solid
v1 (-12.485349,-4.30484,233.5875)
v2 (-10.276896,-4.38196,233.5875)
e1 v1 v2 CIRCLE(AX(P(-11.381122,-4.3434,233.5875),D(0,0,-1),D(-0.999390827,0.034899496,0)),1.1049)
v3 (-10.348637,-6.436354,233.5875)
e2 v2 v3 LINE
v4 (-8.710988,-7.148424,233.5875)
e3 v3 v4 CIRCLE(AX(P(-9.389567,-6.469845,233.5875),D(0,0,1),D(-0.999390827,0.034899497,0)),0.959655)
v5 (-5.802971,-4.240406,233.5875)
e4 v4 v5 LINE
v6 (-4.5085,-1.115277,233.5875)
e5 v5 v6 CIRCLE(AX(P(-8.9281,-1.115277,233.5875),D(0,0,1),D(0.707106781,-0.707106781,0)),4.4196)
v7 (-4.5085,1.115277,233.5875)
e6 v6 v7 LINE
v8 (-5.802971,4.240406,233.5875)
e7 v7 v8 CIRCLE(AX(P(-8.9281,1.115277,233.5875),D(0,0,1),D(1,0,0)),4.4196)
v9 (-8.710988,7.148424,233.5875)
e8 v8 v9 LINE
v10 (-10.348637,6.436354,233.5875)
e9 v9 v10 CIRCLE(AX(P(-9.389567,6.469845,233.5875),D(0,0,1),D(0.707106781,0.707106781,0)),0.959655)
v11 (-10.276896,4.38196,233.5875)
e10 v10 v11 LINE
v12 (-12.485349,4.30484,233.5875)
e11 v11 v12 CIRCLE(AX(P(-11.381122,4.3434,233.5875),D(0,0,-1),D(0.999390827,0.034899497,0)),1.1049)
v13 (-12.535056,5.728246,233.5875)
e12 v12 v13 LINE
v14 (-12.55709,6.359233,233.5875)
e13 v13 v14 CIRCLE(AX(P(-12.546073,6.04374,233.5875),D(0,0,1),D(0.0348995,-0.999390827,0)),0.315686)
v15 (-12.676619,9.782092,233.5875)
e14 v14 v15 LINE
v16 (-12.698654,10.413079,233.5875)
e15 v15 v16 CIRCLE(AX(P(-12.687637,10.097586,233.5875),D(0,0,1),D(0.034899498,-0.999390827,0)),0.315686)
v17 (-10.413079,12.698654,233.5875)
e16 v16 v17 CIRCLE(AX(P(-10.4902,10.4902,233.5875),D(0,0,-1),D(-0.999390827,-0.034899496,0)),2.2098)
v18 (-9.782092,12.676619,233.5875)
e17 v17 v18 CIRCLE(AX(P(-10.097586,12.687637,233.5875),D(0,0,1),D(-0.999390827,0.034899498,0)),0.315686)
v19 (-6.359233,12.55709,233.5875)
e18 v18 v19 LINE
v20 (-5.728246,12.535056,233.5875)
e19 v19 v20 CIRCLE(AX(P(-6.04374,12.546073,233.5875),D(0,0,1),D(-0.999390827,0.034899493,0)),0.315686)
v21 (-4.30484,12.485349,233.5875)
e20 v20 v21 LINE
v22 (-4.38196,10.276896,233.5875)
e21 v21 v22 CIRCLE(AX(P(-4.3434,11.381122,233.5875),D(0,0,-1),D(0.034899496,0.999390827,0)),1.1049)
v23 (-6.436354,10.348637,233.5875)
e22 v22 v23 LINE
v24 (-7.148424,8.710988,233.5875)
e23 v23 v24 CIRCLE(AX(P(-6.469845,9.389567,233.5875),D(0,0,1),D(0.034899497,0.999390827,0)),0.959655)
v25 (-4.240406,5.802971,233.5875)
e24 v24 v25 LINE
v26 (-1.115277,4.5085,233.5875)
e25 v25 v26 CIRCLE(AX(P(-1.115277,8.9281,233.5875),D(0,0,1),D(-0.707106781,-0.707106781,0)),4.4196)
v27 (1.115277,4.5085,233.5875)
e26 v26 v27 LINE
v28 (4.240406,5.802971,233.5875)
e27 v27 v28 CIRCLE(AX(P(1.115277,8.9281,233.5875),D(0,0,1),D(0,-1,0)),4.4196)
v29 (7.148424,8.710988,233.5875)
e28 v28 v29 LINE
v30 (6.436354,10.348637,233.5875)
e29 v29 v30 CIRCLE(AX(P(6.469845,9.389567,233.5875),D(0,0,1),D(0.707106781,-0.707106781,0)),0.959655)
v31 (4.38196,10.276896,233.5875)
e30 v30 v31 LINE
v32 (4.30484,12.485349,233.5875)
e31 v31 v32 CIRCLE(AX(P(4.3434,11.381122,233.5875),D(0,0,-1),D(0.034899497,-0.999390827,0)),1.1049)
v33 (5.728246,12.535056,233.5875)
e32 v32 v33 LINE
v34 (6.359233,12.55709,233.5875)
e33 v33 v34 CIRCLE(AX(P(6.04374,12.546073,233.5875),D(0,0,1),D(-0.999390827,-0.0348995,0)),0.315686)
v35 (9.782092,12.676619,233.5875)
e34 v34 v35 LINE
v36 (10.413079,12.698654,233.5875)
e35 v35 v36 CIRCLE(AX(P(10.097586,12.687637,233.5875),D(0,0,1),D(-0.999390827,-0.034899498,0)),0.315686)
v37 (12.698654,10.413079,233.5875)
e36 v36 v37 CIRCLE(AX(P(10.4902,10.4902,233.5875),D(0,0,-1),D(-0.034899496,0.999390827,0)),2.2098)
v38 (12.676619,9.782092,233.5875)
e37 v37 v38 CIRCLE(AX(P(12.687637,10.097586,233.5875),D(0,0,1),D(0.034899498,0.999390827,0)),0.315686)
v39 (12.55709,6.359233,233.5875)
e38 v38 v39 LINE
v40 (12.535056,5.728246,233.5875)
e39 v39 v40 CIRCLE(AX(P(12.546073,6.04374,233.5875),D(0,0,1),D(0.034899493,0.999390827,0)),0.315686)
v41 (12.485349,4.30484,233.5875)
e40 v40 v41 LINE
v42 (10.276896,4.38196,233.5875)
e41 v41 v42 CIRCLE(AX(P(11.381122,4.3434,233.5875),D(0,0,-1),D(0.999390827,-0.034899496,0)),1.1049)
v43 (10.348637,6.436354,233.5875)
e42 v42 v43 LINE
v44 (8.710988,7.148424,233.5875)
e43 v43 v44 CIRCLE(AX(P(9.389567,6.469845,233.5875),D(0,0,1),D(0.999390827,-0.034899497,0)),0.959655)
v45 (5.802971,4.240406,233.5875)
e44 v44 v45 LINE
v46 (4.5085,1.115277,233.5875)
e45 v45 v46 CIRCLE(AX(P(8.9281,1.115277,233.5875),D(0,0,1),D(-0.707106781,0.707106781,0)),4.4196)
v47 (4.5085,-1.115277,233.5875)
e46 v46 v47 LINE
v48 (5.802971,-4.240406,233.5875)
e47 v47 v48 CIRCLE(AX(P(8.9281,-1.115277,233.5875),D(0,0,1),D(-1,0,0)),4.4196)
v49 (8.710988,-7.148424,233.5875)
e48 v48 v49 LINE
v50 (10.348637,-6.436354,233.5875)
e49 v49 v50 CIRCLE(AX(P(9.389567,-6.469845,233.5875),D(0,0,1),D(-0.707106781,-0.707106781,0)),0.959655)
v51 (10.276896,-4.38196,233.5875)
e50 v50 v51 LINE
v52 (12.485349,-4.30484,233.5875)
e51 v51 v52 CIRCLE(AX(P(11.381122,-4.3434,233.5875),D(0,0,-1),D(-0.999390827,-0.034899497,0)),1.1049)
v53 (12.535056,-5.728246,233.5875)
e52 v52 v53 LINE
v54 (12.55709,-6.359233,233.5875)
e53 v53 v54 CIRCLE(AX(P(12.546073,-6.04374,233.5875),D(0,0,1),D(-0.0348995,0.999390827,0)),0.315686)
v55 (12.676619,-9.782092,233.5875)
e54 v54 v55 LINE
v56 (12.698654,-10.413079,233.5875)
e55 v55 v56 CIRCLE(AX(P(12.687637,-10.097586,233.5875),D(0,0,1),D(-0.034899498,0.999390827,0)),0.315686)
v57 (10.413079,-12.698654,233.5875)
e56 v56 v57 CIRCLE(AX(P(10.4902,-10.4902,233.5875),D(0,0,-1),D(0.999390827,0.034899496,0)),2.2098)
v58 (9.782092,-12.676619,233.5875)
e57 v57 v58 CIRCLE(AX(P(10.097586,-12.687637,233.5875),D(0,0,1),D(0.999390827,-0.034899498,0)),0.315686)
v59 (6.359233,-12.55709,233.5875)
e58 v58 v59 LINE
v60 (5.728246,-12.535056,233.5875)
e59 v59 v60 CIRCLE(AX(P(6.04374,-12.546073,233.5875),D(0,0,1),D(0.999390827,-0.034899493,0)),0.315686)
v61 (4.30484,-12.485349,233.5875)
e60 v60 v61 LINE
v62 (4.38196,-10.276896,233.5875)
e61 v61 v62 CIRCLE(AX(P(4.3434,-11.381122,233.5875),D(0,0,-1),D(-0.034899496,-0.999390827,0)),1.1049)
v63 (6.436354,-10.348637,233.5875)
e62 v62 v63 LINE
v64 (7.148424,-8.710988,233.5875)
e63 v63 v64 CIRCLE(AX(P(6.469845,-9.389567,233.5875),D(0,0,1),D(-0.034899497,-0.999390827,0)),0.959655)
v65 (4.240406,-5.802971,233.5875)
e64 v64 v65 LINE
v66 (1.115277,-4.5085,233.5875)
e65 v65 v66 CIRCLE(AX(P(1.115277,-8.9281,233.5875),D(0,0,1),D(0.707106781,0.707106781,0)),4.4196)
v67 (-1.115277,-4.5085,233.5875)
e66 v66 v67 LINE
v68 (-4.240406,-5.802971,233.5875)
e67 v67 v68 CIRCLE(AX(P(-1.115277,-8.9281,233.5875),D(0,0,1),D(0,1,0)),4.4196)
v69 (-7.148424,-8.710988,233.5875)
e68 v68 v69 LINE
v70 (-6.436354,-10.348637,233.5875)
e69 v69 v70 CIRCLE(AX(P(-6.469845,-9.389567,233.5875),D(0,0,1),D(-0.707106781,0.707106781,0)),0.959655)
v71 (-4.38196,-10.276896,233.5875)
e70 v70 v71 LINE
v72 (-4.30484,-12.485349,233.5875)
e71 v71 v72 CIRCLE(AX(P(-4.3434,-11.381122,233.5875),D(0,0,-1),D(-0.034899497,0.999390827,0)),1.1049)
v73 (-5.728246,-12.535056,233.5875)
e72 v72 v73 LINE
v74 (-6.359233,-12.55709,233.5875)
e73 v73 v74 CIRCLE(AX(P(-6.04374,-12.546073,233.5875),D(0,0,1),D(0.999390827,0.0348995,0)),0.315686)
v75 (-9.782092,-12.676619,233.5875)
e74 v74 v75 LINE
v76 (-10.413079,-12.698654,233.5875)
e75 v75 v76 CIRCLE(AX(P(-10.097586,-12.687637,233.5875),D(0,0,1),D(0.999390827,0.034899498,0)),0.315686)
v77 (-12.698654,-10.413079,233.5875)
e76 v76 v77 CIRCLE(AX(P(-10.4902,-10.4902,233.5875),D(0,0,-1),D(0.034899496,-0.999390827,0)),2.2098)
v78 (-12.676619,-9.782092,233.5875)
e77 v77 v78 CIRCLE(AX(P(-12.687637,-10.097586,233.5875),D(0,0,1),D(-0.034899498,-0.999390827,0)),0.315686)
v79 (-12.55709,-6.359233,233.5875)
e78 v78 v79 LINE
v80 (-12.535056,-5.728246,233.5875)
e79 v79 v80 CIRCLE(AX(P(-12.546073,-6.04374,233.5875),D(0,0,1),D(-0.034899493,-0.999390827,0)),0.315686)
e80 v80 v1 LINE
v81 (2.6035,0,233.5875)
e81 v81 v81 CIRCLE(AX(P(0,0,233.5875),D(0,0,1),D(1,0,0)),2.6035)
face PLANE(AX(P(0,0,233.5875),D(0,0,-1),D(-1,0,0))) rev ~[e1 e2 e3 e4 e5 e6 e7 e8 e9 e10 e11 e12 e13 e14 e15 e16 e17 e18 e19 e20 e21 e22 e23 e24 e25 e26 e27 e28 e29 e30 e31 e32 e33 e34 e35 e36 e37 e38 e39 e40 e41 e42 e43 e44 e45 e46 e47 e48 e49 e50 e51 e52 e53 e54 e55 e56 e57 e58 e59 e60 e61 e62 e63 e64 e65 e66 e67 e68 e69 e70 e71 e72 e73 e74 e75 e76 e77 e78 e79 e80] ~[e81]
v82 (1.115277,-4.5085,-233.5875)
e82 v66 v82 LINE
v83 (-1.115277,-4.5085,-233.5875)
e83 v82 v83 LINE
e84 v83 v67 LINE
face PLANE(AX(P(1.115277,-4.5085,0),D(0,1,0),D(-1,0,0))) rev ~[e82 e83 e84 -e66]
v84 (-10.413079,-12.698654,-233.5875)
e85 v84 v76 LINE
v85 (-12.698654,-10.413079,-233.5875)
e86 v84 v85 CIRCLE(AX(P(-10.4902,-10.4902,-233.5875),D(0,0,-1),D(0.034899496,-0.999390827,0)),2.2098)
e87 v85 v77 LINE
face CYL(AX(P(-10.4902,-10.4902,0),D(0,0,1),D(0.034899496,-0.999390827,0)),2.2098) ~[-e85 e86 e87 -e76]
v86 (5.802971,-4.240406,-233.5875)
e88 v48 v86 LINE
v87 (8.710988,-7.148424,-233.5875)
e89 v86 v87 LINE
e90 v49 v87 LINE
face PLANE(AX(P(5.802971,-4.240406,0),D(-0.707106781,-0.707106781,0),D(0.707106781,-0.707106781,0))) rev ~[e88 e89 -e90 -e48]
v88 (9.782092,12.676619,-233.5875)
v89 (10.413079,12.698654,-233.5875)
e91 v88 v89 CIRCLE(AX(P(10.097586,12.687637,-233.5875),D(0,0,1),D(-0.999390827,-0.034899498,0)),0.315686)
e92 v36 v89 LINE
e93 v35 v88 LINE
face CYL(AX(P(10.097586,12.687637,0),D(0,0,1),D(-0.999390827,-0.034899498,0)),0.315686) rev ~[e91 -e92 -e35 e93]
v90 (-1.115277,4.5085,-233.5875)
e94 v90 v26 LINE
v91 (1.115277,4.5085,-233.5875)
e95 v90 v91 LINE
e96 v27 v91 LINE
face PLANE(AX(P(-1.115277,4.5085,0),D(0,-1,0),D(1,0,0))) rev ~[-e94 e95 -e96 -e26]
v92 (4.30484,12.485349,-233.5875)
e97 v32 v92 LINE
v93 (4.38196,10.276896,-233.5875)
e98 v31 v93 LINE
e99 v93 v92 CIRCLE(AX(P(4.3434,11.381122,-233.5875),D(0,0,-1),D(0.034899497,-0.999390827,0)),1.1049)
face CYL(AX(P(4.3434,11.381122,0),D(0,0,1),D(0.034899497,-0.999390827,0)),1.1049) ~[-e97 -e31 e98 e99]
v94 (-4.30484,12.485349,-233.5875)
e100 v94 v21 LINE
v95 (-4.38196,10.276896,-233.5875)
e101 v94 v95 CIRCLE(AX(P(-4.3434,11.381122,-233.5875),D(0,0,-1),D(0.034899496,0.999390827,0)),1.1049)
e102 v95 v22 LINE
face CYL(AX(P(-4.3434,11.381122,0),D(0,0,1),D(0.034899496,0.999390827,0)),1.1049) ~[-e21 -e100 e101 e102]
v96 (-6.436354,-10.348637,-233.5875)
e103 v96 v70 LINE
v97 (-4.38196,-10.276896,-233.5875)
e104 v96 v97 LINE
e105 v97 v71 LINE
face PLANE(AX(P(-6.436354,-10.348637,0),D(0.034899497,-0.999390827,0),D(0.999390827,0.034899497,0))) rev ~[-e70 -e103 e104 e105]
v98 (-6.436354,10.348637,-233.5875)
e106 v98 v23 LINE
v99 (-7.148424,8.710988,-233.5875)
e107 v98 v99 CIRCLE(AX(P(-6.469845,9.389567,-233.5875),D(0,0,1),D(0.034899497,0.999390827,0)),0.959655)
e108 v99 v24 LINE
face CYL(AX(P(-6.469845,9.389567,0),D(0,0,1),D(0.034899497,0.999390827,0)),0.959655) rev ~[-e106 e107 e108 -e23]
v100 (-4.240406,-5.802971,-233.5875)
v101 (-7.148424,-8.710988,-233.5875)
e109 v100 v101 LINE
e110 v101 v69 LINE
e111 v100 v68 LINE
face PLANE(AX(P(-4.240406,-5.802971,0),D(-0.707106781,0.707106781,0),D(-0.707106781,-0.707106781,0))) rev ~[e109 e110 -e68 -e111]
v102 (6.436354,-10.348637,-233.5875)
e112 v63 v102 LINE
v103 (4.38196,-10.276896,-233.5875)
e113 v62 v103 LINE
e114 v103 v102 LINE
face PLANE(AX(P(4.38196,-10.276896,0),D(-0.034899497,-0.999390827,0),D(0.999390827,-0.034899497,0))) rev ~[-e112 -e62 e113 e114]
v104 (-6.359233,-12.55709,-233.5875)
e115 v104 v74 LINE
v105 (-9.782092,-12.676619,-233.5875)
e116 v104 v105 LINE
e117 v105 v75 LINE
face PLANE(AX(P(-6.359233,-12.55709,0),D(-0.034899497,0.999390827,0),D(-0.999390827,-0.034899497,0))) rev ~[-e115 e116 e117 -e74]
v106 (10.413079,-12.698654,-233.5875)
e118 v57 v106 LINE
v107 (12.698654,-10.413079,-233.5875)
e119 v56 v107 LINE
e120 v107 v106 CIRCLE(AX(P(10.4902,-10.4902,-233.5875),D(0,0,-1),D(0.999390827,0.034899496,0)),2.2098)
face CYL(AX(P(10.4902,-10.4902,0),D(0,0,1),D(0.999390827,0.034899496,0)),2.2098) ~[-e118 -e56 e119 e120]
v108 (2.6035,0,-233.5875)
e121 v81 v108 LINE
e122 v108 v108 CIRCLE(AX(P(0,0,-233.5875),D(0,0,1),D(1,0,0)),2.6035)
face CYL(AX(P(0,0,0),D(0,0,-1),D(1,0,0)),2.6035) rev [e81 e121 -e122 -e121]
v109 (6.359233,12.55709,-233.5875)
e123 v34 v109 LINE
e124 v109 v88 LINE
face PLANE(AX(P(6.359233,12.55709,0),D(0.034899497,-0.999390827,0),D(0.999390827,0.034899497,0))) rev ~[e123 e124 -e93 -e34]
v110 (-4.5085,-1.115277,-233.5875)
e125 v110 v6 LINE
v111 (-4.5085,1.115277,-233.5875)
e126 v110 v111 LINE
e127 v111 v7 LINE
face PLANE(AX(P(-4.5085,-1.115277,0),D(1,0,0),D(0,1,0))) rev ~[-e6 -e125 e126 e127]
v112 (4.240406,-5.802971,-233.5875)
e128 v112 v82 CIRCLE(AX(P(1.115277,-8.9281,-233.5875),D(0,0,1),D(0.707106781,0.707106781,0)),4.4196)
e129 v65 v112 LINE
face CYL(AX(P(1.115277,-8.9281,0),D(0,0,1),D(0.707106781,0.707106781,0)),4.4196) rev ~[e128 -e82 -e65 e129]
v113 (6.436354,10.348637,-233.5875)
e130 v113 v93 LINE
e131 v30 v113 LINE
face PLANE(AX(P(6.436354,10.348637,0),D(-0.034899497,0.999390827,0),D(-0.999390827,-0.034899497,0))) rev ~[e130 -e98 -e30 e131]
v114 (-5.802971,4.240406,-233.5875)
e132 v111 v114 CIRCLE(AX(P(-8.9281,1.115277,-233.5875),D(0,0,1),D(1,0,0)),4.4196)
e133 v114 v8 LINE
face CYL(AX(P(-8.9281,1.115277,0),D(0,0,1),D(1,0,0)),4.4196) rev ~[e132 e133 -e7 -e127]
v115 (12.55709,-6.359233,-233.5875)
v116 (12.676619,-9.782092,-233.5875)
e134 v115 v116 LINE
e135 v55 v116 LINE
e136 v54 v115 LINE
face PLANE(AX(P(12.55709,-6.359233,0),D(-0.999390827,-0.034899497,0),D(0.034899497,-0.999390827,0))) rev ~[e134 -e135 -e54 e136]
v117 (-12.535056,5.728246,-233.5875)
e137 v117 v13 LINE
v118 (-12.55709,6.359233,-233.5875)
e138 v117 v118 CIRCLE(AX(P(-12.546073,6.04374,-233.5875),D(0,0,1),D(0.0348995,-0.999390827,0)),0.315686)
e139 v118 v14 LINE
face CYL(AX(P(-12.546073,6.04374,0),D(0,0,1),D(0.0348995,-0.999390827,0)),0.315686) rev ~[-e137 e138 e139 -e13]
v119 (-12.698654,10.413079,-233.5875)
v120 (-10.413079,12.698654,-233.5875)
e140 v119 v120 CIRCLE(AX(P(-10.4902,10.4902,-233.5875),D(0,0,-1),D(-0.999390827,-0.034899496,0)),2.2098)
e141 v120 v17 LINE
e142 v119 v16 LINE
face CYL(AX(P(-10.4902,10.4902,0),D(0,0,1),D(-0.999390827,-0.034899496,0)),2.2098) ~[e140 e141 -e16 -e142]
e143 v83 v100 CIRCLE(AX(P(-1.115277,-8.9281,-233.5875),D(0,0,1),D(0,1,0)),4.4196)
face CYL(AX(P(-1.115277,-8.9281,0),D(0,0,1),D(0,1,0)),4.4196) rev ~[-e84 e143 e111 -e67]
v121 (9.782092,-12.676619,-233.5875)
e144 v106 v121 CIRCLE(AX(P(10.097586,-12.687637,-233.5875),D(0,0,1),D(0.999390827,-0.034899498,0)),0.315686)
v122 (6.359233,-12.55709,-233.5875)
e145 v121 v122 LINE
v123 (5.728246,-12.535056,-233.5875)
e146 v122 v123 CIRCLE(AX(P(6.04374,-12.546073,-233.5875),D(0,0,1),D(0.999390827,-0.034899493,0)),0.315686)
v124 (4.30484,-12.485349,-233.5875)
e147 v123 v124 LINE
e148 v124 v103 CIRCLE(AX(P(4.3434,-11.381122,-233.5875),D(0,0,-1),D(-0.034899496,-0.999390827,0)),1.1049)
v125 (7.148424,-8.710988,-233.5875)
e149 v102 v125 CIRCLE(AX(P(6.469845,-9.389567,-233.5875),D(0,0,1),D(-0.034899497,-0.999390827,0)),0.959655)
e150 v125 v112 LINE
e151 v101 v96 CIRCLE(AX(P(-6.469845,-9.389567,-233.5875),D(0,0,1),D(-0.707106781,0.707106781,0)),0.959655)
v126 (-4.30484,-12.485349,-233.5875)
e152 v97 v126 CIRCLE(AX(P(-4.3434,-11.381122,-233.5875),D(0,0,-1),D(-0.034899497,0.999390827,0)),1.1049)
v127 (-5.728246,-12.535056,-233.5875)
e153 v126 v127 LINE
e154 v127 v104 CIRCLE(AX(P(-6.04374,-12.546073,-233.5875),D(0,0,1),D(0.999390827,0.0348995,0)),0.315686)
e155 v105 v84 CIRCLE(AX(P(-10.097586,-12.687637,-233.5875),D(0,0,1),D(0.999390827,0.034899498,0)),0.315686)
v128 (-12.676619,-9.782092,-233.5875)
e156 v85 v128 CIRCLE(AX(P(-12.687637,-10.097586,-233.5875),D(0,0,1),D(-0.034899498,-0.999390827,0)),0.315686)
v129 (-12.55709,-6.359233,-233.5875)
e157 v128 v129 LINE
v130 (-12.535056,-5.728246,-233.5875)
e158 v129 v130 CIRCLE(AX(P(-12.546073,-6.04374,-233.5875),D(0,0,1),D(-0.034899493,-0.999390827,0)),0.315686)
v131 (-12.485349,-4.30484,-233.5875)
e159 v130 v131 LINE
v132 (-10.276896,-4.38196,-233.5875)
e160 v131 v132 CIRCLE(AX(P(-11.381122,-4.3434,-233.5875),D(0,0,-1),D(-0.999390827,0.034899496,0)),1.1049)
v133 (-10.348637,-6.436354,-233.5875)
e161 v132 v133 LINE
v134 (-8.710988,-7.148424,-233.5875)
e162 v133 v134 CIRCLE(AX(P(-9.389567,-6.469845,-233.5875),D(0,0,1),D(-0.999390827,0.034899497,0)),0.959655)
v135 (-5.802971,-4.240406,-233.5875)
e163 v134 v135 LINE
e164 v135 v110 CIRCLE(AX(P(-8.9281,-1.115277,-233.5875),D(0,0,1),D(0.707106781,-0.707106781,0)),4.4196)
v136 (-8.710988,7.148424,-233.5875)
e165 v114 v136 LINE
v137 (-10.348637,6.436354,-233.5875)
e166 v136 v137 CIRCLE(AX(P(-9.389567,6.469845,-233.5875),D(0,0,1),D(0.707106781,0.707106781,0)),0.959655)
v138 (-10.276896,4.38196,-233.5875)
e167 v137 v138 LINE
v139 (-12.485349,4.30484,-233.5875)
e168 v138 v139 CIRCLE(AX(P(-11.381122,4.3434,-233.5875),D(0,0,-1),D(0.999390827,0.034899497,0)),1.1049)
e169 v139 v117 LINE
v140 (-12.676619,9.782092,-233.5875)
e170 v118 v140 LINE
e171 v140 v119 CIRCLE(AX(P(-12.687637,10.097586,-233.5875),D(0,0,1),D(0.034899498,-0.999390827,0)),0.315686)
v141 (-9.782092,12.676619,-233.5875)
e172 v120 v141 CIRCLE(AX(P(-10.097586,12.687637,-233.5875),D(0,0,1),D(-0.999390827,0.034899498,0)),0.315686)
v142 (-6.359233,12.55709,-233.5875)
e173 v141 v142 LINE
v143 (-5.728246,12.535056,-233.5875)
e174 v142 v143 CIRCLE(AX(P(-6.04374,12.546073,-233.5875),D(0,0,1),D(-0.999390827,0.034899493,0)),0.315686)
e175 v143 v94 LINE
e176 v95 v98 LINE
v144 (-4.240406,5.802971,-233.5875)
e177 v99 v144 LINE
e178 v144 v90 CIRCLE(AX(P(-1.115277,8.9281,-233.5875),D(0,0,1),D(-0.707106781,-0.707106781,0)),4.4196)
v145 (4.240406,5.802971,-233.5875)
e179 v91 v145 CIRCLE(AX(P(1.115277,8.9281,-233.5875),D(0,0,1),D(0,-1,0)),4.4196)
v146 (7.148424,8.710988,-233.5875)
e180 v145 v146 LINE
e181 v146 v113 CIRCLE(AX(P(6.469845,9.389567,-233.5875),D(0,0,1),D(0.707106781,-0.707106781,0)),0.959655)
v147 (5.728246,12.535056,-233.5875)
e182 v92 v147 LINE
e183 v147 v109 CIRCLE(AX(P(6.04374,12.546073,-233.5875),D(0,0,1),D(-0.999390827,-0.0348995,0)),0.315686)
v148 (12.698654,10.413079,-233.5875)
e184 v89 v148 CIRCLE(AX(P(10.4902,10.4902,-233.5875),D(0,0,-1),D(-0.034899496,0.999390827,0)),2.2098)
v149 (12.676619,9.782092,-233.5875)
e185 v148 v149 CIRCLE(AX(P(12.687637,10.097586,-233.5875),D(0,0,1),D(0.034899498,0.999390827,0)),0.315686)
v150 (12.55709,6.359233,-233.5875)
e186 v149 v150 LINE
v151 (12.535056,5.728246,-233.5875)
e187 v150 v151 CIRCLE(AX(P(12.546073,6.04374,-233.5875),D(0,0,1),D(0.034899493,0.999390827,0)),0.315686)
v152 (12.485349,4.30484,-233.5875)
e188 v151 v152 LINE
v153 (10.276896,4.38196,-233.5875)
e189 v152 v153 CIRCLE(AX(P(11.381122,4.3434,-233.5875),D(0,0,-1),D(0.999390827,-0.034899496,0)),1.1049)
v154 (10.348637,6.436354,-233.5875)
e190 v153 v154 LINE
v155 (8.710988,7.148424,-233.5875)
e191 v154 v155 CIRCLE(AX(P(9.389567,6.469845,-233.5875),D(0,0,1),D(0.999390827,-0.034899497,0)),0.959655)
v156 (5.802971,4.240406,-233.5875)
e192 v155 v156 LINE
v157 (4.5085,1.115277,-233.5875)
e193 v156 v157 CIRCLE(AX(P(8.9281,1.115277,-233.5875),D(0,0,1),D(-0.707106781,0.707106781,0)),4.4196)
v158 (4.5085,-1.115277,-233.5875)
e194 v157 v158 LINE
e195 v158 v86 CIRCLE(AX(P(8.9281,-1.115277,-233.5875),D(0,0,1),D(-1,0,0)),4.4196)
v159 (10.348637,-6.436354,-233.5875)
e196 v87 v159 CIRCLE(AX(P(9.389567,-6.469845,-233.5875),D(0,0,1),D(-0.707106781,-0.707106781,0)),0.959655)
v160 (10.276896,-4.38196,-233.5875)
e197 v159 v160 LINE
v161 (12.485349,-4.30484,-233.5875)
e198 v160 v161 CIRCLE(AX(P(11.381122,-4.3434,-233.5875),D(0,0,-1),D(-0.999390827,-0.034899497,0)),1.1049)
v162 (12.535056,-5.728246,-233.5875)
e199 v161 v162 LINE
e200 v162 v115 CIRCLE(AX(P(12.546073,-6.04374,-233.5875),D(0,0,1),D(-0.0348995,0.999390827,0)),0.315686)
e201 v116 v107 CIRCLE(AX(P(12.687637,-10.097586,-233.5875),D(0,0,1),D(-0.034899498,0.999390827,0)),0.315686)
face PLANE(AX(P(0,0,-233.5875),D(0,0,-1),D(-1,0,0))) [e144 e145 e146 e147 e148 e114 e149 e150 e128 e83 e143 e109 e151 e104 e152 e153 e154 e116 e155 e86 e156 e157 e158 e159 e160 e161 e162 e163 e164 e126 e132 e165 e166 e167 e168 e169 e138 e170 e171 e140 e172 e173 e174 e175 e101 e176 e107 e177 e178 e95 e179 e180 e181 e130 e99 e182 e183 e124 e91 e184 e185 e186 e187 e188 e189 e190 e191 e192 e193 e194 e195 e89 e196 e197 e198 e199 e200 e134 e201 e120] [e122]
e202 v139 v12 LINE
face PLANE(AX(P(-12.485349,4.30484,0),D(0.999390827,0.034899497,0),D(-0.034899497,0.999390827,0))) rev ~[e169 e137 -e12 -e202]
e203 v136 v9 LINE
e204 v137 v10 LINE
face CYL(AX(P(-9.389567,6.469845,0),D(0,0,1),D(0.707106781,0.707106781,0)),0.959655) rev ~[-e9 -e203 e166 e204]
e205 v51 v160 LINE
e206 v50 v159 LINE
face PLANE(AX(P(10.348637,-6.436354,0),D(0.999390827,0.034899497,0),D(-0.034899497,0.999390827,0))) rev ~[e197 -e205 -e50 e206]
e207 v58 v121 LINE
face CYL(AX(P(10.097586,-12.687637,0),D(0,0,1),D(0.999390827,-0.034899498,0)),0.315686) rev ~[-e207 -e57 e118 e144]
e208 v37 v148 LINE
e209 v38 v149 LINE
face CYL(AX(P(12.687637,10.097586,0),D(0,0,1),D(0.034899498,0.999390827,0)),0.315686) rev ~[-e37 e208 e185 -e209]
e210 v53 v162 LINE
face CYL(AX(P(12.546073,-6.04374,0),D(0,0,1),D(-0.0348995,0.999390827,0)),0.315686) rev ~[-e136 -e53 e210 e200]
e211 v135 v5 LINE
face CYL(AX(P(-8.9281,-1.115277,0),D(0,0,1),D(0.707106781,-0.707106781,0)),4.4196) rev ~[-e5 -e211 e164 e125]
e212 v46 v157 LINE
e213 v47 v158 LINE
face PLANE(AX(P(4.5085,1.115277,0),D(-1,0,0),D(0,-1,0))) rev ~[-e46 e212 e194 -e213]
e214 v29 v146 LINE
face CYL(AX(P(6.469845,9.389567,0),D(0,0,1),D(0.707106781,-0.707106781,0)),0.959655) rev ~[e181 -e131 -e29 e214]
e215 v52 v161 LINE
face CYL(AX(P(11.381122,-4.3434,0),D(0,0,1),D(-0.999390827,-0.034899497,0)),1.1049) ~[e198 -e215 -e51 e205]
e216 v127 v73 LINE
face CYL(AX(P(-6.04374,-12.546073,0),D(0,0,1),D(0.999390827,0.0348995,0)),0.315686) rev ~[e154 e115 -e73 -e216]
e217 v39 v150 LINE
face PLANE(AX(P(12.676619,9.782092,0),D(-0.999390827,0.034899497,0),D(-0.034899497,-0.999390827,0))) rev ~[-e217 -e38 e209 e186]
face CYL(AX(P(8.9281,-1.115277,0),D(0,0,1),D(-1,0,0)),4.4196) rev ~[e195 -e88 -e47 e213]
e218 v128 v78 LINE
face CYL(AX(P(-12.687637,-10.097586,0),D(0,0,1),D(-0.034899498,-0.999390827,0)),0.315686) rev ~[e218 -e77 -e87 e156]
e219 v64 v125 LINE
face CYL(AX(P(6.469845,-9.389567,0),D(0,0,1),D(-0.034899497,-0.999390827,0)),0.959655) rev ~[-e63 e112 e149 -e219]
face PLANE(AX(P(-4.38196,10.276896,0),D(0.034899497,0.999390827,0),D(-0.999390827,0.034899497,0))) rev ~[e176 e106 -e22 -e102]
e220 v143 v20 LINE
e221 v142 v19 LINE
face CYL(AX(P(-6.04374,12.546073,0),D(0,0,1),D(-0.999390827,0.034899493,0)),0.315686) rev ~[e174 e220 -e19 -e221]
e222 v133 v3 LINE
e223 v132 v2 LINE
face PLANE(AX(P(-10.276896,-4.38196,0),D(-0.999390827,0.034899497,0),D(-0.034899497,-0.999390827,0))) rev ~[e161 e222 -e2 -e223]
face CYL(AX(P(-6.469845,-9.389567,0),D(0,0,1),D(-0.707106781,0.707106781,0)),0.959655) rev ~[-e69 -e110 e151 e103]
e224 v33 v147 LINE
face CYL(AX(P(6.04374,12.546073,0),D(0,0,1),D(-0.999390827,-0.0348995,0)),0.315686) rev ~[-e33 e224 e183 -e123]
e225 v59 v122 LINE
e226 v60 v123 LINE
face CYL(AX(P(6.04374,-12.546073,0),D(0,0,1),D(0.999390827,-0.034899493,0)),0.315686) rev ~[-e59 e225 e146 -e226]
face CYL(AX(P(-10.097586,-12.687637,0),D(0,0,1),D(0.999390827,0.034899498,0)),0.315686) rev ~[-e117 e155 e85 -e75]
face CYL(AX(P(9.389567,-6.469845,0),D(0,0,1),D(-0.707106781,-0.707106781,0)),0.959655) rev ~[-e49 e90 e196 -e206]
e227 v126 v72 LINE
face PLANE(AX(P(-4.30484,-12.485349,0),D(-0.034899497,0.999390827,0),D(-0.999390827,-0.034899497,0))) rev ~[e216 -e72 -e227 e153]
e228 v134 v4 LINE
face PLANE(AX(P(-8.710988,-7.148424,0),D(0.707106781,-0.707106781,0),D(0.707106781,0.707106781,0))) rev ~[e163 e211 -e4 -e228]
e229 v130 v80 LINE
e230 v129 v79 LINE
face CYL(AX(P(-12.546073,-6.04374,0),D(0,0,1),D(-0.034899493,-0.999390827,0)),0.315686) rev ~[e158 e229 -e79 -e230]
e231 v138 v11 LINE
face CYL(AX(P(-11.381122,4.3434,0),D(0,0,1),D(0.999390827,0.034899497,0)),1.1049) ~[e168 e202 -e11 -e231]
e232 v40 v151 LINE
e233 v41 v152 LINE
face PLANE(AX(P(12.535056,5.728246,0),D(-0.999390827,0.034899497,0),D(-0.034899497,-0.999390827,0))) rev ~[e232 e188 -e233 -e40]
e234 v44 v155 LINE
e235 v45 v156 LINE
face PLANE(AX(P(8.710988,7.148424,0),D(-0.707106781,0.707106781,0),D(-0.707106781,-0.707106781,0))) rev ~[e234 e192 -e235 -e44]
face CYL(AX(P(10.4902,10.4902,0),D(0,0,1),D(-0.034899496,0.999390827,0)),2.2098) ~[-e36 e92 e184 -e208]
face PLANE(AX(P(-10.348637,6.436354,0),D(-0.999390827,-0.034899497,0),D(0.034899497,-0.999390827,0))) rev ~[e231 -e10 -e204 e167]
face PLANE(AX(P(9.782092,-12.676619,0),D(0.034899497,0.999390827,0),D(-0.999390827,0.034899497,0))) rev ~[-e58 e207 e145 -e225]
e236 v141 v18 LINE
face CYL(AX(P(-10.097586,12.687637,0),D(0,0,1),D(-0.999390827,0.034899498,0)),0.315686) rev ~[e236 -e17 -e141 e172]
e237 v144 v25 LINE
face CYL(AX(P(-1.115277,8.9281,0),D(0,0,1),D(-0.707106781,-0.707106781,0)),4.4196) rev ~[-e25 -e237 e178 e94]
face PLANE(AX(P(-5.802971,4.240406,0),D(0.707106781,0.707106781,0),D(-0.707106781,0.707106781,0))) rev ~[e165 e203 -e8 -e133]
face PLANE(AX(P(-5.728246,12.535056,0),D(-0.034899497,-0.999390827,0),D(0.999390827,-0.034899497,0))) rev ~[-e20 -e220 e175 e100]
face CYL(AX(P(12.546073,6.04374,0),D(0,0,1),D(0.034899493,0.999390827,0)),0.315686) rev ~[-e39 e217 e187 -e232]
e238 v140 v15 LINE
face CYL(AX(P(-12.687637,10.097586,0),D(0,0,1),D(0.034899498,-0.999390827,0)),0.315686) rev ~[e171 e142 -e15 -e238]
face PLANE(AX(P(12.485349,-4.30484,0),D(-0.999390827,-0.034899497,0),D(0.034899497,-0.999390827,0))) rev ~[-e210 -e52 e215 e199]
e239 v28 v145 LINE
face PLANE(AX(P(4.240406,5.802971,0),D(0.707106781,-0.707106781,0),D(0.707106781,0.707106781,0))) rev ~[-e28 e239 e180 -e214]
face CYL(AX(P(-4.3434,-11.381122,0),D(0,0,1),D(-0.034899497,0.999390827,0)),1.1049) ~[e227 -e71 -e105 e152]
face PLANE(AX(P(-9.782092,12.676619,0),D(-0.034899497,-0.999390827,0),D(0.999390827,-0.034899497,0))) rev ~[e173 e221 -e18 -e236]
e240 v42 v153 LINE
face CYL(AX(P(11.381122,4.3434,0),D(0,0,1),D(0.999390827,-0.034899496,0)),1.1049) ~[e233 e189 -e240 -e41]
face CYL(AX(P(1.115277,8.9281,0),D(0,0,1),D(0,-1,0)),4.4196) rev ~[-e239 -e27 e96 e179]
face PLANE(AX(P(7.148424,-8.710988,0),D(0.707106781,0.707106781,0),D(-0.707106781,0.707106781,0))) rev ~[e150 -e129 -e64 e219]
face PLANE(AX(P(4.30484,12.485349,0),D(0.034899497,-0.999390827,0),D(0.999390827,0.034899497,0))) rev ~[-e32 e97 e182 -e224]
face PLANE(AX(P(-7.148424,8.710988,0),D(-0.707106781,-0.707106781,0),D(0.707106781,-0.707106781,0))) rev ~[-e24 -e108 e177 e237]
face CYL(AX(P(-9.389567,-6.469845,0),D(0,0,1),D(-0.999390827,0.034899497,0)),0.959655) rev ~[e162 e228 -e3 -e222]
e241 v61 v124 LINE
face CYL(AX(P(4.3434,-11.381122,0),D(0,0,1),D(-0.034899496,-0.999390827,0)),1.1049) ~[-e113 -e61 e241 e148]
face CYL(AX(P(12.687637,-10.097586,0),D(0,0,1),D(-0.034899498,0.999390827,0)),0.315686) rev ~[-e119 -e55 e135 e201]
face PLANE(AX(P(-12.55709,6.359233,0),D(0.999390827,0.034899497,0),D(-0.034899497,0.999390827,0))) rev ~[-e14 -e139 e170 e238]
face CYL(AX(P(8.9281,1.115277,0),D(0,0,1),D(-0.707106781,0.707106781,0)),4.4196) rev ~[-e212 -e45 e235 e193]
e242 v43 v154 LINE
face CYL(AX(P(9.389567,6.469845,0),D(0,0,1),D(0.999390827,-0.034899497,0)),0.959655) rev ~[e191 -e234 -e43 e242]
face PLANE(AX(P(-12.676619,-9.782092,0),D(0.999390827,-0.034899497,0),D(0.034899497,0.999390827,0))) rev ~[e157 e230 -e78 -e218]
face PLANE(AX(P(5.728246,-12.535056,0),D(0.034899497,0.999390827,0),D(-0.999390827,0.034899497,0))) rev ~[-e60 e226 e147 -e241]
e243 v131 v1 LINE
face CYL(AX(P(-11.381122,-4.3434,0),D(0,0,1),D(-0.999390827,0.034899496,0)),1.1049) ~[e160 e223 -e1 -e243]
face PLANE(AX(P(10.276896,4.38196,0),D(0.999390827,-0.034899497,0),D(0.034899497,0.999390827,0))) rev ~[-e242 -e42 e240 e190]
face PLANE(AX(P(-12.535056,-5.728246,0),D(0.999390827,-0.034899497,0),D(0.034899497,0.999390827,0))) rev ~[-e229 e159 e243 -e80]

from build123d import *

# Parameters (mm, degrees)
SKETCH3_R      = 2.6035
EXTRUDE1_DEPTH = 233.5875


with BuildPart() as part:
    # Sketch3 → Extrude1 (new, symmetric)
    with BuildSketch(Plane.XY):
        with BuildLine():
            Line((-1.115277175, 4.5085), (1.115277175, 4.5085))
            ThreePointArc((1.115277175, 4.5085), (2.806584872, 4.844922018), (4.240406305, 5.80297087))
            Line((4.240406305, 5.80297087), (7.148423664, 8.710988229))
            ThreePointArc((7.148423664, 8.710988229), (7.349906316, 9.772227925), (6.436353897, 10.348636575))
            Line((6.436353897, 10.348636575), (4.381960454, 10.276895575))
            ThreePointArc((4.381960454, 10.276895575), (3.239173075, 11.342562046), (4.304839546, 12.485349424))
            Line((4.304839546, 12.485349424), (5.728246175, 12.535055879))
            ThreePointArc((5.728246175, 12.535055879), (6.054756855, 12.230579745), (6.35923299, 12.557090424))
            Line((6.35923299, 12.557090424), (9.782092278, 12.676619304))
            ThreePointArc((9.782092278, 12.676619304), (10.108602958, 12.37214317), (10.413079092, 12.69865385))
            ThreePointArc((10.413079092, 12.69865385), (12.052764565, 12.052764565), (12.69865385, 10.413079092))
            ThreePointArc((12.69865385, 10.413079092), (12.37214317, 10.108602958), (12.676619304, 9.782092278))
            Line((12.676619304, 9.782092278), (12.557090424, 6.35923299))
            ThreePointArc((12.557090424, 6.35923299), (12.230579745, 6.054756855), (12.535055879, 5.728246175))
            Line((12.535055879, 5.728246175), (12.485349424, 4.304839546))
            ThreePointArc((12.485349424, 4.304839546), (11.342562046, 3.239173075), (10.276895575, 4.381960454))
            Line((10.276895575, 4.381960454), (10.348636575, 6.436353897))
            ThreePointArc((10.348636575, 6.436353897), (9.772227925, 7.349906316), (8.710988229, 7.148423664))
            Line((8.710988229, 7.148423664), (5.80297087, 4.240406305))
            ThreePointArc((5.80297087, 4.240406305), (4.844922018, 2.806584872), (4.5085, 1.115277175))
            Line((4.5085, 1.115277175), (4.5085, -1.115277175))
            ThreePointArc((4.5085, -1.115277175), (4.844922018, -2.806584872), (5.80297087, -4.240406305))
            Line((5.80297087, -4.240406305), (8.710988229, -7.148423664))
            ThreePointArc((8.710988229, -7.148423664), (9.772227925, -7.349906316), (10.348636575, -6.436353897))
            Line((10.348636575, -6.436353897), (10.276895575, -4.381960454))
            ThreePointArc((10.276895575, -4.381960454), (11.342562046, -3.239173075), (12.485349424, -4.304839546))
            Line((12.485349424, -4.304839546), (12.535055879, -5.728246175))
            ThreePointArc((12.535055879, -5.728246175), (12.230579745, -6.054756855), (12.557090424, -6.35923299))
            Line((12.557090424, -6.35923299), (12.676619304, -9.782092278))
            ThreePointArc((12.676619304, -9.782092278), (12.37214317, -10.108602958), (12.69865385, -10.413079092))
            ThreePointArc((12.69865385, -10.413079092), (12.052764565, -12.052764565), (10.413079092, -12.69865385))
            ThreePointArc((10.413079092, -12.69865385), (10.108602958, -12.37214317), (9.782092278, -12.676619304))
            Line((9.782092278, -12.676619304), (6.35923299, -12.557090424))
            ThreePointArc((6.35923299, -12.557090424), (6.054756855, -12.230579745), (5.728246175, -12.535055879))
            Line((5.728246175, -12.535055879), (4.304839546, -12.485349424))
            ThreePointArc((4.304839546, -12.485349424), (3.239173075, -11.342562046), (4.381960454, -10.276895575))
            Line((4.381960454, -10.276895575), (6.436353897, -10.348636575))
            ThreePointArc((6.436353897, -10.348636575), (7.349906316, -9.772227925), (7.148423664, -8.710988229))
            Line((7.148423664, -8.710988229), (4.240406305, -5.80297087))
            ThreePointArc((4.240406305, -5.80297087), (2.806584872, -4.844922018), (1.115277175, -4.5085))
            Line((1.115277175, -4.5085), (-1.115277175, -4.5085))
            ThreePointArc((-1.115277175, -4.5085), (-2.806584872, -4.844922018), (-4.240406305, -5.80297087))
            Line((-4.240406305, -5.80297087), (-7.148423664, -8.710988229))
            ThreePointArc((-7.148423664, -8.710988229), (-7.349906316, -9.772227925), (-6.436353897, -10.348636575))
            Line((-6.436353897, -10.348636575), (-4.381960454, -10.276895575))
            ThreePointArc((-4.381960454, -10.276895575), (-3.239173075, -11.342562046), (-4.304839546, -12.485349424))
            Line((-4.304839546, -12.485349424), (-5.728246175, -12.535055879))
            ThreePointArc((-5.728246175, -12.535055879), (-6.054756855, -12.230579745), (-6.35923299, -12.557090424))
            Line((-6.35923299, -12.557090424), (-9.782092278, -12.676619304))
            ThreePointArc((-9.782092278, -12.676619304), (-10.108602958, -12.37214317), (-10.413079092, -12.69865385))
            ThreePointArc((-10.413079092, -12.69865385), (-12.052764565, -12.052764565), (-12.69865385, -10.413079092))
            ThreePointArc((-12.69865385, -10.413079092), (-12.37214317, -10.108602958), (-12.676619304, -9.782092278))
            Line((-12.676619304, -9.782092278), (-12.557090424, -6.35923299))
            ThreePointArc((-12.557090424, -6.35923299), (-12.230579745, -6.054756855), (-12.535055879, -5.728246175))
            Line((-12.535055879, -5.728246175), (-12.485349424, -4.304839546))
            ThreePointArc((-12.485349424, -4.304839546), (-11.342562046, -3.239173075), (-10.276895575, -4.381960454))
            Line((-10.276895575, -4.381960454), (-10.348636575, -6.436353897))
            ThreePointArc((-10.348636575, -6.436353897), (-9.772227925, -7.349906316), (-8.710988229, -7.148423664))
            Line((-8.710988229, -7.148423664), (-5.80297087, -4.240406305))
            ThreePointArc((-5.80297087, -4.240406305), (-4.844922018, -2.806584872), (-4.5085, -1.115277175))
            Line((-4.5085, -1.115277175), (-4.5085, 1.115277175))
            ThreePointArc((-4.5085, 1.115277175), (-4.844922018, 2.806584872), (-5.80297087, 4.240406305))
            Line((-5.80297087, 4.240406305), (-8.710988229, 7.148423664))
            ThreePointArc((-8.710988229, 7.148423664), (-9.772227925, 7.349906316), (-10.348636575, 6.436353897))
            Line((-10.348636575, 6.436353897), (-10.276895575, 4.381960454))
            ThreePointArc((-10.276895575, 4.381960454), (-11.342562046, 3.239173075), (-12.485349424, 4.304839546))
            Line((-12.485349424, 4.304839546), (-12.535055879, 5.728246175))
            ThreePointArc((-12.535055879, 5.728246175), (-12.230579745, 6.054756855), (-12.557090424, 6.35923299))
            Line((-12.557090424, 6.35923299), (-12.676619304, 9.782092278))
            ThreePointArc((-12.676619304, 9.782092278), (-12.37214317, 10.108602958), (-12.69865385, 10.413079092))
            ThreePointArc((-12.69865385, 10.413079092), (-12.052764565, 12.052764565), (-10.413079092, 12.69865385))
            ThreePointArc((-10.413079092, 12.69865385), (-10.108602958, 12.37214317), (-9.782092278, 12.676619304))
            Line((-9.782092278, 12.676619304), (-6.35923299, 12.557090424))
            ThreePointArc((-6.35923299, 12.557090424), (-6.054756855, 12.230579745), (-5.728246175, 12.535055879))
            Line((-5.728246175, 12.535055879), (-4.304839546, 12.485349424))
            ThreePointArc((-4.304839546, 12.485349424), (-3.239173075, 11.342562046), (-4.381960454, 10.276895575))
            Line((-4.381960454, 10.276895575), (-6.436353897, 10.348636575))
            ThreePointArc((-6.436353897, 10.348636575), (-7.349906316, 9.772227925), (-7.148423664, 8.710988229))
            Line((-7.148423664, 8.710988229), (-4.240406305, 5.80297087))
            ThreePointArc((-4.240406305, 5.80297087), (-2.806584872, 4.844922018), (-1.115277175, 4.5085))
        make_face()
        Circle(SKETCH3_R, mode=Mode.SUBTRACT)
    extrude(amount=EXTRUDE1_DEPTH, both=True)


solid = part.part
